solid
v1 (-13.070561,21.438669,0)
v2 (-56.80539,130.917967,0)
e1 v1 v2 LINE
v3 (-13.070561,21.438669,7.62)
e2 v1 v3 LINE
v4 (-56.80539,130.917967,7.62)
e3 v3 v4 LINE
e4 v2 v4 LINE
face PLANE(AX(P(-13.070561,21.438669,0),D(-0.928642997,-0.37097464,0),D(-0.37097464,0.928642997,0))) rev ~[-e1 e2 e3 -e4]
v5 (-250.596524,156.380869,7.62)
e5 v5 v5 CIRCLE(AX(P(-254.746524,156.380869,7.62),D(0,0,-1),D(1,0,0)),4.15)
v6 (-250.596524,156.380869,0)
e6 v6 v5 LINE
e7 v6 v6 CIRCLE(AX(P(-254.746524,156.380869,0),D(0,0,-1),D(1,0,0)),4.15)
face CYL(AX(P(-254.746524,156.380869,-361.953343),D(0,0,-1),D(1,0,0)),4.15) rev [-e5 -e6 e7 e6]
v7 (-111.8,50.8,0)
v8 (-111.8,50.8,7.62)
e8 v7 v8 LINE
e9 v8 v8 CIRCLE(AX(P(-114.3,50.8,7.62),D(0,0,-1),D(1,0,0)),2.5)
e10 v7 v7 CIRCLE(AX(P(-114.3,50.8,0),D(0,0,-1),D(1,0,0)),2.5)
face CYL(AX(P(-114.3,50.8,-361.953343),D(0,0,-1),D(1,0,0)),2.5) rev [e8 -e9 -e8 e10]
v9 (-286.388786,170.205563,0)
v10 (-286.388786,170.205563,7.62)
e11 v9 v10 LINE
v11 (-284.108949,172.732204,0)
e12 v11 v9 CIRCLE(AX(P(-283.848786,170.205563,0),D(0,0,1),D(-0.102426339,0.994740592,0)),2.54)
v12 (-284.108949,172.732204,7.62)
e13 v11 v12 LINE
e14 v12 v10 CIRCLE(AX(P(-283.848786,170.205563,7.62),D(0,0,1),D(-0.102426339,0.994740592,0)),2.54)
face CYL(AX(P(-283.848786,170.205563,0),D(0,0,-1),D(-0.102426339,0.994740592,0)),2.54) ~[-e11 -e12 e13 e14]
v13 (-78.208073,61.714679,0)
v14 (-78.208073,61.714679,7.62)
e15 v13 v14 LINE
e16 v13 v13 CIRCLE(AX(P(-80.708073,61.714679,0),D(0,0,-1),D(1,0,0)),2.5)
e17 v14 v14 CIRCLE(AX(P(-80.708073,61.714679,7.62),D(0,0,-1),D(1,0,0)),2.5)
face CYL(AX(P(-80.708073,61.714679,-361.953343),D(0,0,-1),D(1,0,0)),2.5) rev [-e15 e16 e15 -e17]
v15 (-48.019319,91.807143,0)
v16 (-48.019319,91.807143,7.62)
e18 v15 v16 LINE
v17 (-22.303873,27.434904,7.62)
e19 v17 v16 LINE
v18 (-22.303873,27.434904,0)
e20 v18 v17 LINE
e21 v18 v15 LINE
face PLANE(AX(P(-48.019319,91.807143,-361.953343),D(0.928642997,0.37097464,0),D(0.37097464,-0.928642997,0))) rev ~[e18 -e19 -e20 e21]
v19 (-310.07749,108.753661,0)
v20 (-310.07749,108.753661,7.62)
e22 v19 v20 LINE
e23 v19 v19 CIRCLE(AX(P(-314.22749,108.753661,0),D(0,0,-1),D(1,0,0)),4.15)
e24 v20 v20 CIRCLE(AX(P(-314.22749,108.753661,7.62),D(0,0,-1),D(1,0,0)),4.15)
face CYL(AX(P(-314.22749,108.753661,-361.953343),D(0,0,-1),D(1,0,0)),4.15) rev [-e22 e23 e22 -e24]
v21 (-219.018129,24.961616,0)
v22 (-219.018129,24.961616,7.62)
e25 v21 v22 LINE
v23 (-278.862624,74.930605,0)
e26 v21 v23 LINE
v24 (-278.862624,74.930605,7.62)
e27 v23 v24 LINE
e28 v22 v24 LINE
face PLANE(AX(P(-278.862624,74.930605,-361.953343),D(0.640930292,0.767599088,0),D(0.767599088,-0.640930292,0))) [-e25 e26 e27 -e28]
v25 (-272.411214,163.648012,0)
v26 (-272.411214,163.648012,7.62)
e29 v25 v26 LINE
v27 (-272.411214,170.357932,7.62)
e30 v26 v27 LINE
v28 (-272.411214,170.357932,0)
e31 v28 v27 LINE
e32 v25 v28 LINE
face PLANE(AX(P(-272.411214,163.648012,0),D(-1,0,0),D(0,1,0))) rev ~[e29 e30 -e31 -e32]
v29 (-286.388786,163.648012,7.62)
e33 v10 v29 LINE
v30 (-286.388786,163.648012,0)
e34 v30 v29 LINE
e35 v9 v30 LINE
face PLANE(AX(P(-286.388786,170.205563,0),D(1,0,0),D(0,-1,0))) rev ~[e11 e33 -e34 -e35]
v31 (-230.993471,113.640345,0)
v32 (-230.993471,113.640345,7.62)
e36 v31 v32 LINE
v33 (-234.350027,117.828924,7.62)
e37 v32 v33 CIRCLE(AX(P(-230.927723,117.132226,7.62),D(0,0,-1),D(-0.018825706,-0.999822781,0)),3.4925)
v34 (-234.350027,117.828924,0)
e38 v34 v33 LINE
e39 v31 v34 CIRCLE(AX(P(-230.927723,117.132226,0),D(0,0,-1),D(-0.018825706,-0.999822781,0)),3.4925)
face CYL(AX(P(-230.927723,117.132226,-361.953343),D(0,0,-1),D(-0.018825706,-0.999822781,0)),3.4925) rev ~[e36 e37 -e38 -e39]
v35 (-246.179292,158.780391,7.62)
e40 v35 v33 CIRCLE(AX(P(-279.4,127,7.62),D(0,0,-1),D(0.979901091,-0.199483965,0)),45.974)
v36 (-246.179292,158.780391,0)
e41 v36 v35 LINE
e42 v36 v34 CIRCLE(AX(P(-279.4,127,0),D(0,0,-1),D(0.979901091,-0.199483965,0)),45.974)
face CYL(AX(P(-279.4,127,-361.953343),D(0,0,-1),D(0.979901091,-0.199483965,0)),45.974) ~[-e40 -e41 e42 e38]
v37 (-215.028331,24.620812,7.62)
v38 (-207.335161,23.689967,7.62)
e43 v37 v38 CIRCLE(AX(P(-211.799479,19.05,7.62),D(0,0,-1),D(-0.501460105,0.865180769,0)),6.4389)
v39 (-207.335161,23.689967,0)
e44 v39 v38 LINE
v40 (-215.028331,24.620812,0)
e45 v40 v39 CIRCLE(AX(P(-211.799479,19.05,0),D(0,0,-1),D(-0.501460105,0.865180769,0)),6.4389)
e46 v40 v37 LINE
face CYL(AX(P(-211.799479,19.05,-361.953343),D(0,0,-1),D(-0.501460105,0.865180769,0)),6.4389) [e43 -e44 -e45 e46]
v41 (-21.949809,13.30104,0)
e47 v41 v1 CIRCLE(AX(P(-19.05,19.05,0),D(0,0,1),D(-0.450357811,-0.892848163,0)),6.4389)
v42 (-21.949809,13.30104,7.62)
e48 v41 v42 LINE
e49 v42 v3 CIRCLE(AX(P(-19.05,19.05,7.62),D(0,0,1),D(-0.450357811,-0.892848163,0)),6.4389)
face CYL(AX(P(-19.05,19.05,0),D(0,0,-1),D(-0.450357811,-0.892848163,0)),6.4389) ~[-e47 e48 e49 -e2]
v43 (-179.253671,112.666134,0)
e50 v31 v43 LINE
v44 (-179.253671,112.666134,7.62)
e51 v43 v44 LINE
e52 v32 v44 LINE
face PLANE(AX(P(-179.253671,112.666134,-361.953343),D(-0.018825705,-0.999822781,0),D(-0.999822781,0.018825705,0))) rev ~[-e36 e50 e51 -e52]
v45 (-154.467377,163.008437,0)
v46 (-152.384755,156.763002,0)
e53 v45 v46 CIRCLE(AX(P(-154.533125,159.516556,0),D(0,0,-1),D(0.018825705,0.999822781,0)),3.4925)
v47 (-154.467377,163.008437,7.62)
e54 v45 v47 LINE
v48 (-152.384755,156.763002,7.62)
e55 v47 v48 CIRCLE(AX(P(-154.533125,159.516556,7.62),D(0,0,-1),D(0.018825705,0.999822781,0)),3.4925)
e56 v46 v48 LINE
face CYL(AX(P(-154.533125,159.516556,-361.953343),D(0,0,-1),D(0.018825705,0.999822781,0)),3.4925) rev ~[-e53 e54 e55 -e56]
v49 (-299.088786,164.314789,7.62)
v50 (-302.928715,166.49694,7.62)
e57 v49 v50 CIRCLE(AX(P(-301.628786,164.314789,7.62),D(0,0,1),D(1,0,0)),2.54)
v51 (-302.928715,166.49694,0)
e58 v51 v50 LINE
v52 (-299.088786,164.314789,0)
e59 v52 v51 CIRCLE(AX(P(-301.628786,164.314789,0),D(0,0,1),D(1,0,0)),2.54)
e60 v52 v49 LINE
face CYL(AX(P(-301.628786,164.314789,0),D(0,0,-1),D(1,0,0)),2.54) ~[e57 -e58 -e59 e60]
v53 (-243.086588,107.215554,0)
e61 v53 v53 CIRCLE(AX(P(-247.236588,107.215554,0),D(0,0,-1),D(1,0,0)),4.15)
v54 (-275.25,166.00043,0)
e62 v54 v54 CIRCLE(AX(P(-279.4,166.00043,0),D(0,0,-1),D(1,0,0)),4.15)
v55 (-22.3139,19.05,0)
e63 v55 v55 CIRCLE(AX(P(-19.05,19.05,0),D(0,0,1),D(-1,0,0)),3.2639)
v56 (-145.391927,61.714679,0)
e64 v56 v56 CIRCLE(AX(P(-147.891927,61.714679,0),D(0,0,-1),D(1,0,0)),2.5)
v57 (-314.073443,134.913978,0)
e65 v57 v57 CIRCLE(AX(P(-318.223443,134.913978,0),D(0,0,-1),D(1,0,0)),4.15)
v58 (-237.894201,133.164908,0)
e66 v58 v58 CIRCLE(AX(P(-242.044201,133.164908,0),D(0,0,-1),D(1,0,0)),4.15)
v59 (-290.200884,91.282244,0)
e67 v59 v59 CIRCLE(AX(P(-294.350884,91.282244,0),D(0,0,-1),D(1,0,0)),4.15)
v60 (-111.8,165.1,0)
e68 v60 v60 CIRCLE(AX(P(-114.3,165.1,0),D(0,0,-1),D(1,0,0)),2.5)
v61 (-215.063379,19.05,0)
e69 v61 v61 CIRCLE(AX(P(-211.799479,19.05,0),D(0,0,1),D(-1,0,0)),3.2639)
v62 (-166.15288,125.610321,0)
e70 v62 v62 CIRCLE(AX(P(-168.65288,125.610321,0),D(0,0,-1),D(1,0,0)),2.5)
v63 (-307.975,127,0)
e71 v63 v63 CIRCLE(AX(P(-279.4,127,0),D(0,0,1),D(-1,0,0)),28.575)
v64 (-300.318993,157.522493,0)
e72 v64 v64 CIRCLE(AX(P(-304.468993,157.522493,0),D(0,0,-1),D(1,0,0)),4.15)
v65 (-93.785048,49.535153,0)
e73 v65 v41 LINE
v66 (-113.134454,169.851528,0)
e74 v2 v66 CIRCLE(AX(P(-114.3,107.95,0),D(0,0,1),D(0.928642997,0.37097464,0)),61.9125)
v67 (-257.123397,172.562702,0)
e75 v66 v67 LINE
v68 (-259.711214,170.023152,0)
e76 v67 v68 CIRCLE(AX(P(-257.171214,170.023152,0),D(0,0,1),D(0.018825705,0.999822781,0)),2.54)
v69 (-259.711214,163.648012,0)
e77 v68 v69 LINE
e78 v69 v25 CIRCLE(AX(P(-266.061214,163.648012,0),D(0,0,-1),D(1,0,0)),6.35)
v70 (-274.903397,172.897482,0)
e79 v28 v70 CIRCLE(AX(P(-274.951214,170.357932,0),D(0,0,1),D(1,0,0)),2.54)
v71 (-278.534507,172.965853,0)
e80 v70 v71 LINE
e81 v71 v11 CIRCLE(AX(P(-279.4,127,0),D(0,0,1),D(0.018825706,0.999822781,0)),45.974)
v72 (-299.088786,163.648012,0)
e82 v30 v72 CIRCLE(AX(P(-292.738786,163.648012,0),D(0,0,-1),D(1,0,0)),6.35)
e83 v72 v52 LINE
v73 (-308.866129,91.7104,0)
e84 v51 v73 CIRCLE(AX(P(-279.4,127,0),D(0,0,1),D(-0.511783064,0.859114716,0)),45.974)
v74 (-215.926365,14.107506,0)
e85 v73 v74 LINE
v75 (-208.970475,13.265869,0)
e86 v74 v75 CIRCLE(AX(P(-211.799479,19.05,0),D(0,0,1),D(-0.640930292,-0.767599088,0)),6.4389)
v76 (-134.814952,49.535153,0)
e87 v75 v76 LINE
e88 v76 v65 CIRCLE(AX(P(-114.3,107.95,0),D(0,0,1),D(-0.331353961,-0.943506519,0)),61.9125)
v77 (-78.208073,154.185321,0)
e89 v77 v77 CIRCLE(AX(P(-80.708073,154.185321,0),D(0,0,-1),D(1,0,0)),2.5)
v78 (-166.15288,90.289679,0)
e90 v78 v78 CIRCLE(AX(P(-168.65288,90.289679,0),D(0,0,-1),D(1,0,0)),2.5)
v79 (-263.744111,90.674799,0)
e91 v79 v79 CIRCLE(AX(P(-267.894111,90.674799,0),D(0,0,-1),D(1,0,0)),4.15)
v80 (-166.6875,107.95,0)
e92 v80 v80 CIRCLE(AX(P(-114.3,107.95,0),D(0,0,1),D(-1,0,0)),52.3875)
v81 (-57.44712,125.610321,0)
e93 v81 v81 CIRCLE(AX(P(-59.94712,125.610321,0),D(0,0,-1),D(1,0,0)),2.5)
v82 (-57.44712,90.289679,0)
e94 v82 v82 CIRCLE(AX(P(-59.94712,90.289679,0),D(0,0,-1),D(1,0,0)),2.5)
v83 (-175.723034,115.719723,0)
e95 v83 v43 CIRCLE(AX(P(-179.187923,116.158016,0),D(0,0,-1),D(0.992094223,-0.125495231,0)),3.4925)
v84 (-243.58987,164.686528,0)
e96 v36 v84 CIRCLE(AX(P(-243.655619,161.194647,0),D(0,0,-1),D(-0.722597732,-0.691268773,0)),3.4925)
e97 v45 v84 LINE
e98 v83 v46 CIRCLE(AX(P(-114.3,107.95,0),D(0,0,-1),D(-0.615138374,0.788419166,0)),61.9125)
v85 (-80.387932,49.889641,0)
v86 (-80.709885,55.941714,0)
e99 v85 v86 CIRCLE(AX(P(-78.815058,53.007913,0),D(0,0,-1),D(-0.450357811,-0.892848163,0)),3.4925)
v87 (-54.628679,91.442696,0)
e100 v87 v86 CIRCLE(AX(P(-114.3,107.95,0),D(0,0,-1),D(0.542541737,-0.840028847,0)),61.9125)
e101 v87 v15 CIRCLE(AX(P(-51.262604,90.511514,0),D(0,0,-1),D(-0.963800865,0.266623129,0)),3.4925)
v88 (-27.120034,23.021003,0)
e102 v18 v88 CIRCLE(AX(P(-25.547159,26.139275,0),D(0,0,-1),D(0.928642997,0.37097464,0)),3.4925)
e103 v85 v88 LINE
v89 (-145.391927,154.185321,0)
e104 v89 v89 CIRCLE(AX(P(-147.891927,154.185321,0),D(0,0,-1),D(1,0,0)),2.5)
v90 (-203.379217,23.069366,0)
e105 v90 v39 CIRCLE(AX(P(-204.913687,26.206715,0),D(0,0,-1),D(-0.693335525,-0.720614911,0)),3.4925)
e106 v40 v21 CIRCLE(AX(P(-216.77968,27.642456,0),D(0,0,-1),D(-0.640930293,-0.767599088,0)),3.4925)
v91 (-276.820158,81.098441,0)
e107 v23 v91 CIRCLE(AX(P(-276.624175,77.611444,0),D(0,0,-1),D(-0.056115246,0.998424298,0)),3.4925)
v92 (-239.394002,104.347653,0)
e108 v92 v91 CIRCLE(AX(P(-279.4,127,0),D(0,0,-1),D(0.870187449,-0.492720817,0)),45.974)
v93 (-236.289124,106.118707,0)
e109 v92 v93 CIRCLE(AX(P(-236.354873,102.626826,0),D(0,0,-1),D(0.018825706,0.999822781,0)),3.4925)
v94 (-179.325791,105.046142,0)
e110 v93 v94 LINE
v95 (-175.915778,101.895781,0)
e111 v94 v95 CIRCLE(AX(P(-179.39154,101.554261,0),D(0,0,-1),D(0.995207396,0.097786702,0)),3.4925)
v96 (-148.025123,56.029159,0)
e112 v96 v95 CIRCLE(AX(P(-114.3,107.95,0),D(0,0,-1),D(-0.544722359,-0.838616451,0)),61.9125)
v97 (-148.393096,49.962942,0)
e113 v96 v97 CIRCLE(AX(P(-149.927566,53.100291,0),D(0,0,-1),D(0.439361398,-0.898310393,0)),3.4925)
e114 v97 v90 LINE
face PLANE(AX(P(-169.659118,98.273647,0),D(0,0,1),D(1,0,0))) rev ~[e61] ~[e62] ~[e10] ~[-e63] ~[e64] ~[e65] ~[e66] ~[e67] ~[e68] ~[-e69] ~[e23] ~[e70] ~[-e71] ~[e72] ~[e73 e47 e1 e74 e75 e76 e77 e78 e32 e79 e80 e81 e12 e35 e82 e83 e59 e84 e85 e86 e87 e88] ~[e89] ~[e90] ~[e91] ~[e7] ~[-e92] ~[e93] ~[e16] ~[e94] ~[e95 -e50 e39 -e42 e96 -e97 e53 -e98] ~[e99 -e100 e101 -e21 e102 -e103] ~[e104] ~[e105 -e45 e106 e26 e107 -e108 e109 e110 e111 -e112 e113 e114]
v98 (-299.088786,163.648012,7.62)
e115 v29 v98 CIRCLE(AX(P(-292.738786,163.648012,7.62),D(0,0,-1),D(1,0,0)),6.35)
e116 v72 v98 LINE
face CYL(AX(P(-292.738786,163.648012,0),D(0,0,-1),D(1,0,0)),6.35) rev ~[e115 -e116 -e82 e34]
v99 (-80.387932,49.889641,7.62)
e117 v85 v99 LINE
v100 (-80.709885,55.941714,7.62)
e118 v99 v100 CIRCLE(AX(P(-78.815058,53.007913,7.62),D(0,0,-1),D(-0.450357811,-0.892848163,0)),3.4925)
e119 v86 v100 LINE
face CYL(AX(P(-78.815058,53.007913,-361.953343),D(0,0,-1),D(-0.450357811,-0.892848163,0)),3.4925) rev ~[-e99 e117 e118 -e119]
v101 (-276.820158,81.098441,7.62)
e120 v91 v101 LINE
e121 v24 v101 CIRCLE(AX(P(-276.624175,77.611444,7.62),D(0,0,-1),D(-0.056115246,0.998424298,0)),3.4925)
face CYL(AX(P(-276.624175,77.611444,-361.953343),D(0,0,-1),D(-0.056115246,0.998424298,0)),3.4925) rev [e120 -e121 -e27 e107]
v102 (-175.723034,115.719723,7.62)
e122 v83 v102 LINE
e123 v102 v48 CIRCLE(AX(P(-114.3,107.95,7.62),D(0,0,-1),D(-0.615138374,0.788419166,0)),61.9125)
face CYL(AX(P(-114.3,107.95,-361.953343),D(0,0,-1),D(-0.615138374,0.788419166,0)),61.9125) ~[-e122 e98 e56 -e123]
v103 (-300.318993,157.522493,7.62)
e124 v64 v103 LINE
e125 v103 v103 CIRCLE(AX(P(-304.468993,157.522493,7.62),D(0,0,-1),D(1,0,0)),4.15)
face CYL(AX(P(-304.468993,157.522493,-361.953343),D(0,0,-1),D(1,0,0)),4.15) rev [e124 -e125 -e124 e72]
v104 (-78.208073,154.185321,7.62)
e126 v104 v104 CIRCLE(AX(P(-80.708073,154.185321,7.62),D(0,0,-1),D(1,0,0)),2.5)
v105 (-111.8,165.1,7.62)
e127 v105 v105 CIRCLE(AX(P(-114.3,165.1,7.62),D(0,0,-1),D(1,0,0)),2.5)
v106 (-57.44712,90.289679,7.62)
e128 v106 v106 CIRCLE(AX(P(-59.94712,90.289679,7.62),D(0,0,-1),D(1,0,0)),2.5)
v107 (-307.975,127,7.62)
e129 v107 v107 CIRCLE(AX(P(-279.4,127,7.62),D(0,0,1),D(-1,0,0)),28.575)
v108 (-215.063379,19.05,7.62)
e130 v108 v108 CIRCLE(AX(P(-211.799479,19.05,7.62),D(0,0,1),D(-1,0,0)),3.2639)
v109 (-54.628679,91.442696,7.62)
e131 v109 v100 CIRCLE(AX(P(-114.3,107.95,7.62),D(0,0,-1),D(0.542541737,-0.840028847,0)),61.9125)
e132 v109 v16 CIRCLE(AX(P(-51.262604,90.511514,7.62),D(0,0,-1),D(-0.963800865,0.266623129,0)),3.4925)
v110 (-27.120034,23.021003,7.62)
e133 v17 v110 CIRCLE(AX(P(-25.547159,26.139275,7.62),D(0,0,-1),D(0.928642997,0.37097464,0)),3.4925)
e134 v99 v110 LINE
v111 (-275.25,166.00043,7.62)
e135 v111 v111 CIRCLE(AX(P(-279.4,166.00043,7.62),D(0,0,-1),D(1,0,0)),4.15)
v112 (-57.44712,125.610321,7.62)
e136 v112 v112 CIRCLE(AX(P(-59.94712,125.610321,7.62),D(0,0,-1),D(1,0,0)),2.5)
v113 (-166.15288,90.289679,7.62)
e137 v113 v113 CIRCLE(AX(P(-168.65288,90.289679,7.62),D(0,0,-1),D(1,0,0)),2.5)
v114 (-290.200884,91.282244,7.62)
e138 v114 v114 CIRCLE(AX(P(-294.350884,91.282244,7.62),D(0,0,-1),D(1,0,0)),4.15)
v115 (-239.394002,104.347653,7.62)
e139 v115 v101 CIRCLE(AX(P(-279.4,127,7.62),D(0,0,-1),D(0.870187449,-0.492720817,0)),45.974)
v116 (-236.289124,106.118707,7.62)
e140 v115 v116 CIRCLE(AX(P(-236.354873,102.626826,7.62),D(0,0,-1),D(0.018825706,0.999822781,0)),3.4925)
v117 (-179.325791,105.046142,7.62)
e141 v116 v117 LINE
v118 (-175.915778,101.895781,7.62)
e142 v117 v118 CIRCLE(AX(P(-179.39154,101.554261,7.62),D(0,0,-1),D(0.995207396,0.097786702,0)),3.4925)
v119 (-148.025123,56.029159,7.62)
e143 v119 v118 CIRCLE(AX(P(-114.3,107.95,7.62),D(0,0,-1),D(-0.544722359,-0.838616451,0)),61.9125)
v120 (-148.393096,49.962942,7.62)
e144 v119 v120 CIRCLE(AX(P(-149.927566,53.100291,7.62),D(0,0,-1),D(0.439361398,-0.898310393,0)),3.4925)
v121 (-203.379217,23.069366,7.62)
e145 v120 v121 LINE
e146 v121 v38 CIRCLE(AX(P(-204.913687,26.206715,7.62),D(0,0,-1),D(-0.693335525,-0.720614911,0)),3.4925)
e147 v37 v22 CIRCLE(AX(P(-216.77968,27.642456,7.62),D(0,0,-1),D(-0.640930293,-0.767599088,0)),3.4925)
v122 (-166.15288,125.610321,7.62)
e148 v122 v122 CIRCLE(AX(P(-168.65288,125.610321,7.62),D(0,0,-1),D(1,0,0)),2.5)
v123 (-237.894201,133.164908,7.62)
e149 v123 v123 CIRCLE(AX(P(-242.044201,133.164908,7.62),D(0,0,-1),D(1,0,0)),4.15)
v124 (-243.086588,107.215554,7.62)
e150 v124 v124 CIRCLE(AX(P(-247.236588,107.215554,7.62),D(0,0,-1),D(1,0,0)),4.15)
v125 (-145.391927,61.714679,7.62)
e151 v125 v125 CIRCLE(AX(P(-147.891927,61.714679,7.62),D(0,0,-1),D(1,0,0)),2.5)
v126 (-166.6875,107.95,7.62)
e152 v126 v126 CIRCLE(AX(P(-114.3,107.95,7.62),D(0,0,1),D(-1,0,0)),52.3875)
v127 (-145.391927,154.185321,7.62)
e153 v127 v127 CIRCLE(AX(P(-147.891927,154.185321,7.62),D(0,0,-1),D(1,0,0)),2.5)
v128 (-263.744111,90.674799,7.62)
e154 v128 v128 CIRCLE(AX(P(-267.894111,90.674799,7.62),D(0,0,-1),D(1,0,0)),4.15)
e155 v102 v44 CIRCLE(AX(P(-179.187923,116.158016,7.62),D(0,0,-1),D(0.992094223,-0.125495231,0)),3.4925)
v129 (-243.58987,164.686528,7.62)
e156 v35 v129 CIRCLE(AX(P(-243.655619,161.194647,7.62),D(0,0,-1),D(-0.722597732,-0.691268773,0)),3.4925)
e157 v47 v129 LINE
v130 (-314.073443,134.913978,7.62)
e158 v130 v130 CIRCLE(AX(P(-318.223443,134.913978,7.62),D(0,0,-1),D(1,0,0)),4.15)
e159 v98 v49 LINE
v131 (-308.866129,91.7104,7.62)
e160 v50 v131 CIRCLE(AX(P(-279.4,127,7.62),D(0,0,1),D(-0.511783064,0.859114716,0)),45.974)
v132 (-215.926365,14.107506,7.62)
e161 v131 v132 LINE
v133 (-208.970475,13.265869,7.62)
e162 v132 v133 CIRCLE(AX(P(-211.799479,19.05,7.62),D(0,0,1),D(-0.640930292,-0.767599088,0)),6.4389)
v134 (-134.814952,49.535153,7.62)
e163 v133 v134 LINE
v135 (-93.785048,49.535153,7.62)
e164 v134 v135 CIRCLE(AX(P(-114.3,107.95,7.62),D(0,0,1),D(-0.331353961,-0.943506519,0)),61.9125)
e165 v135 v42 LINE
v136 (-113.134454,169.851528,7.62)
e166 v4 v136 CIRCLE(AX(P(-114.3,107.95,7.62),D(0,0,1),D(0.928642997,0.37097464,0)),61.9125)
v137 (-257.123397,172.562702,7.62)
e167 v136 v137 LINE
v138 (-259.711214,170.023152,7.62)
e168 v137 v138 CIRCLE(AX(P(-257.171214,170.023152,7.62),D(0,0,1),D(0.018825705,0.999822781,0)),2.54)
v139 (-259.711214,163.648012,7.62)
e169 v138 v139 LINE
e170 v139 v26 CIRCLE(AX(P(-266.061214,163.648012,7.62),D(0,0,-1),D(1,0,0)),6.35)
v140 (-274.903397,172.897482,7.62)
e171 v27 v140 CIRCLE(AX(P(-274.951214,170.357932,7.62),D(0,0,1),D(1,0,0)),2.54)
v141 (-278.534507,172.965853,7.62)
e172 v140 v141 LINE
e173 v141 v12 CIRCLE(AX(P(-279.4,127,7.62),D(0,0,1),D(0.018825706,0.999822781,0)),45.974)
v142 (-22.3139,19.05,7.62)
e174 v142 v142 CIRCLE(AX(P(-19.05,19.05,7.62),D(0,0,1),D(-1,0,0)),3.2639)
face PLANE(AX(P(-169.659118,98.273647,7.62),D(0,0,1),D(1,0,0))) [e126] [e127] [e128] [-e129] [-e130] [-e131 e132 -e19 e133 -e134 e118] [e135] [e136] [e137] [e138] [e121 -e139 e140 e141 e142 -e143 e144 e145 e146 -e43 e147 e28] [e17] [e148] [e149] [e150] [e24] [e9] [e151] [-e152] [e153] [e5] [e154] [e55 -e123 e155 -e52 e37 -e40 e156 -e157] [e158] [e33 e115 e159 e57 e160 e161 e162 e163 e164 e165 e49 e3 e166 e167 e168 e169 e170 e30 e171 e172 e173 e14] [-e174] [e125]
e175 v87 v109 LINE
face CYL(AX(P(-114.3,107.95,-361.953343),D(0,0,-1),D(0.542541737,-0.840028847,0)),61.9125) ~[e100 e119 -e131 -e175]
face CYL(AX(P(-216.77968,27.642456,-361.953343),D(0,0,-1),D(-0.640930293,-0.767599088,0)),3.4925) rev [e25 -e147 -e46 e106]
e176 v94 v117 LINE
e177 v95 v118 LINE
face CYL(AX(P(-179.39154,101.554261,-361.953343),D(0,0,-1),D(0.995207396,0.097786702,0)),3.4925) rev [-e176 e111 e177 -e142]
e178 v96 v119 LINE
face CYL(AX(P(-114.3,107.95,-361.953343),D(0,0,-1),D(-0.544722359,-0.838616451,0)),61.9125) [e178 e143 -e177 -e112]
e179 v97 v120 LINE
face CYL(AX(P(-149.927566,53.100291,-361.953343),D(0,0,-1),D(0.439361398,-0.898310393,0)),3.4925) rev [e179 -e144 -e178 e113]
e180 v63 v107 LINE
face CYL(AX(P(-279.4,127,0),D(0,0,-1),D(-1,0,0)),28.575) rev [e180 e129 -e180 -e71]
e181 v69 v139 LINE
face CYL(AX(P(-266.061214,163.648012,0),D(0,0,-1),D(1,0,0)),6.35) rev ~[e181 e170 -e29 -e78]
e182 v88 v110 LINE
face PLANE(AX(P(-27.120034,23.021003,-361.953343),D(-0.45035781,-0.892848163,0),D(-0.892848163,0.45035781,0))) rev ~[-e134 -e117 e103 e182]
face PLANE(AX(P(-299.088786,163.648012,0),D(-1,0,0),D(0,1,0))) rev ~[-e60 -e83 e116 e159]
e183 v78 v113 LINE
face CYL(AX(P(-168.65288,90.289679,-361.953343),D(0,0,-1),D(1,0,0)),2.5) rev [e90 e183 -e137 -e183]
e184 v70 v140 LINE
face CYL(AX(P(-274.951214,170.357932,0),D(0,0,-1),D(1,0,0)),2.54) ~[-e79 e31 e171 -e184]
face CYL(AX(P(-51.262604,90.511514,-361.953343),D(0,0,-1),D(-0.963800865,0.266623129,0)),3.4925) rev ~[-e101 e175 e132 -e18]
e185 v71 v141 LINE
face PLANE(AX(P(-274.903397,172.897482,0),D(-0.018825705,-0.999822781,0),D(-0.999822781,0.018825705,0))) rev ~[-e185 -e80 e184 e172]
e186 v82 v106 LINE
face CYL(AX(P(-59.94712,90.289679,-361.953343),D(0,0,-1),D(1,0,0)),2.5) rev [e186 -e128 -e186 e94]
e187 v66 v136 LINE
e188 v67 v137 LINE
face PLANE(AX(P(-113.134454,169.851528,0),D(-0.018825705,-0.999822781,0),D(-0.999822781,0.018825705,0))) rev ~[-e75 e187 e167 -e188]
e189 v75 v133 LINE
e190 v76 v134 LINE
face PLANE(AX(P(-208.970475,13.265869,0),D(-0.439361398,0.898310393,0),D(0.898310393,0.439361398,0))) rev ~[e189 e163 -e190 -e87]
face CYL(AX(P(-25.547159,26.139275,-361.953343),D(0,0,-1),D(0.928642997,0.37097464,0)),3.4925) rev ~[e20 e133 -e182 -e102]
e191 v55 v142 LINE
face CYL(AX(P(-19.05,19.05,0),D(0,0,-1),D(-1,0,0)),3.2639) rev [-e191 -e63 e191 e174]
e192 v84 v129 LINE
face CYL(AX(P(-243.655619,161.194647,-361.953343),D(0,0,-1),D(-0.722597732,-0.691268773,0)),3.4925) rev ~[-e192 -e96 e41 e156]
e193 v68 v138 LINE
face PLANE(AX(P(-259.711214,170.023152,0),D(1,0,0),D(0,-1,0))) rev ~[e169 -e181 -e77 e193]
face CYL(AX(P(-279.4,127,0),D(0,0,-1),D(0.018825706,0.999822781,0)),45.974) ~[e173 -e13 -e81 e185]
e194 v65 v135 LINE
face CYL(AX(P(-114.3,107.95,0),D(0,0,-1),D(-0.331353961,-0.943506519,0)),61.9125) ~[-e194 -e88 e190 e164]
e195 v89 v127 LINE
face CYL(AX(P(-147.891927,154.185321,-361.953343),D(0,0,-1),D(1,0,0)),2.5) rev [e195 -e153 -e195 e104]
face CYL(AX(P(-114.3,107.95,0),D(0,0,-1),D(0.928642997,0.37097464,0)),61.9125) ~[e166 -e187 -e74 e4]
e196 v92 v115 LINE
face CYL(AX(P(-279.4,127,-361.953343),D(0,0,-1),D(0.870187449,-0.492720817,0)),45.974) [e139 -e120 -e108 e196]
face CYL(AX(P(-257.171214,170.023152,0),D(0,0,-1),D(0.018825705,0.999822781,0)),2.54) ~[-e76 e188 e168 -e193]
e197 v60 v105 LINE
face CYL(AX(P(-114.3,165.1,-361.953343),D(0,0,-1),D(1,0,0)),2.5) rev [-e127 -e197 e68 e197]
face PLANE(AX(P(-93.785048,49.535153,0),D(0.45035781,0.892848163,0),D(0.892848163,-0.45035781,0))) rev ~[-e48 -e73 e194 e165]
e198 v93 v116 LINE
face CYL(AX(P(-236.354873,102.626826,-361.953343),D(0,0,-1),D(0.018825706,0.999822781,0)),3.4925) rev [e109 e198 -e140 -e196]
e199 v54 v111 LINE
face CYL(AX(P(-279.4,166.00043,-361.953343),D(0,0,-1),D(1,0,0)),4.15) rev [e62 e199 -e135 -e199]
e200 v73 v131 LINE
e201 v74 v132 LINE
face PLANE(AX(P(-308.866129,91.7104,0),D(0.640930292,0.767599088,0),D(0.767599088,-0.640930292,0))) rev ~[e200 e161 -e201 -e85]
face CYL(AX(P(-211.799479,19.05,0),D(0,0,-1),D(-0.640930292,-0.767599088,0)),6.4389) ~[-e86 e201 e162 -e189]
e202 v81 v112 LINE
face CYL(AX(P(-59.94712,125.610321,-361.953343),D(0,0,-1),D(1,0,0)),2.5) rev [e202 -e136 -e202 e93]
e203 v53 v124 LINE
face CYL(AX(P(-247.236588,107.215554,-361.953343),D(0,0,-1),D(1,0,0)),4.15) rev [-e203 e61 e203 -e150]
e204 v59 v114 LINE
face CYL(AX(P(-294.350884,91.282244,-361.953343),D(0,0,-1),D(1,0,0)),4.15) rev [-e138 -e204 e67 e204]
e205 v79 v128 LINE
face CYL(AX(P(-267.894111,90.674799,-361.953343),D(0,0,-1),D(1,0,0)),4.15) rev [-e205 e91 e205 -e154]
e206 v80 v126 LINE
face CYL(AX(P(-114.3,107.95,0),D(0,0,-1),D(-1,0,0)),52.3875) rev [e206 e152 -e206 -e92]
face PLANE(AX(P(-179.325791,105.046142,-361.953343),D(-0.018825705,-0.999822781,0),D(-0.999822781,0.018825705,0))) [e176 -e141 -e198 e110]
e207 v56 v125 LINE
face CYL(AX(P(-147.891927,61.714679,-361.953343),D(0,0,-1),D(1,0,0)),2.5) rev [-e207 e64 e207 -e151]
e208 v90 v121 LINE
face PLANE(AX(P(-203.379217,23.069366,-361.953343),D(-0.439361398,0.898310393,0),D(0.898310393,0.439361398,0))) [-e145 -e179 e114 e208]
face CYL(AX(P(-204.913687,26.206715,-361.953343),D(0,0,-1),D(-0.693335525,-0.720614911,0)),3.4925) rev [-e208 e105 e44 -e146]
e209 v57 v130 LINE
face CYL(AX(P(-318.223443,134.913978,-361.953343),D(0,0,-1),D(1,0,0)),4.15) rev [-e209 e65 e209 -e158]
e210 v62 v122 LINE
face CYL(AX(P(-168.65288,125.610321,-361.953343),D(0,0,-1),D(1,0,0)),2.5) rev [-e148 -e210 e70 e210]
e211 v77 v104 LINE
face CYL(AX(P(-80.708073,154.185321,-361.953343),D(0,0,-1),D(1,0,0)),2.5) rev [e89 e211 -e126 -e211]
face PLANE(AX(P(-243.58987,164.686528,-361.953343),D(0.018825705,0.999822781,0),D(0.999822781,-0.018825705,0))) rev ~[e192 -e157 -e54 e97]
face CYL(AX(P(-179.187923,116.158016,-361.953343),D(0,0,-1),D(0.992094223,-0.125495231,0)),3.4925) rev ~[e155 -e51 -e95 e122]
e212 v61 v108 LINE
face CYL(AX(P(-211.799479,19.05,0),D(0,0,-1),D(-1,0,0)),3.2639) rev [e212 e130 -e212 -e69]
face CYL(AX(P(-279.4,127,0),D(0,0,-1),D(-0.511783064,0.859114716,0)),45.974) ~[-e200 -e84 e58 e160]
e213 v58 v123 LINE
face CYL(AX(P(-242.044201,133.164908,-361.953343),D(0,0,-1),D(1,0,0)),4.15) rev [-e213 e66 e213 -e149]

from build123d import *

# Parameters (mm, degrees)
SKETCH2_R               = 28.575
SKETCH2_R_2             = 3.2639
SKETCH2_R_3             = 52.3875
BOSS_EXTRUDE1_DEPTH     = 7.62
CUT_EXTRUDE1_DEPTH      = 369.573342704
CUT_EXTRUDE1_DEPTH_BACK = 369.573342704
SKETCH3_R               = 4.15
SKETCH3_R_2             = 2.5
CUT_EXTRUDE2_DEPTH      = 369.573342704
CUT_EXTRUDE2_DEPTH_BACK = 369.573342704


with BuildPart() as part:
    # Sketch2 → Boss-Extrude1 (new body)
    with BuildSketch(Plane.XY):
        with BuildLine():
            Line((-308.866129262, 91.710399516), (-215.926365234, 14.107506231))
            ThreePointArc((-215.926365234, 14.107506231), (-212.572921228, 12.657721799), (-208.970475069, 13.265869211))
            Line((-208.970475069, 13.265869211), (-134.814952137, 49.535152614))
            ThreePointArc((-134.814952137, 49.535152614), (-114.3, 46.0375), (-93.785047863, 49.535152614))
            Line((-93.785047863, 49.535152614), (-21.949808906, 13.301039962))
            ThreePointArc((-21.949808906, 13.301039962), (-14.699565425, 14.303090245), (-13.070560605, 21.438668609))
            Line((-13.070560605, 21.438668609), (-56.805390428, 130.917967399))
            ThreePointArc((-56.805390428, 130.917967399), (-79.09759936, 158.880822155), (-113.13445351, 169.85152791))
            Line((-113.13445351, 169.85152791), (-257.123397092, 172.562701825))
            ThreePointArc((-257.123397092, 172.562701825), (-258.950279318, 171.836030325), (-259.711214384, 170.023151962))
            Line((-259.711214384, 170.023151962), (-259.711214384, 163.648011794))
            ThreePointArc((-259.711214384, 163.648011794), (-266.061214384, 157.298011794), (-272.411214384, 163.648011794))
            Line((-272.411214384, 163.648011794), (-272.411214384, 170.357932335))
            ThreePointArc((-272.411214384, 170.357932335), (-273.138336021, 172.136997269), (-274.903397092, 172.897482198))
            Line((-274.903397092, 172.897482198), (-278.534507017, 172.96585252))
            ThreePointArc((-278.534507017, 172.96585252), (-281.325275441, 172.933669465), (-284.108948518, 172.732203969))
            ThreePointArc((-284.108948518, 172.732203969), (-285.734576401, 171.907148337), (-286.388785616, 170.205562866))
            Line((-286.388785616, 170.205562866), (-286.388785616, 163.648011794))
            ThreePointArc((-286.388785616, 163.648011794), (-292.738785616, 157.298011794), (-299.088785616, 163.648011794))
            Line((-299.088785616, 163.648011794), (-299.088785616, 164.31478857))
            ThreePointArc((-299.088785616, 164.31478857), (-300.373839326, 166.523115948), (-302.928714599, 166.496939949))
            ThreePointArc((-302.928714599, 166.496939949), (-325.229794091, 130.638495508), (-308.866129262, 91.710399516))
        make_face()
        with Locations(Location((-279.4, 127, 0), (0, 0, 180))):
            Circle(SKETCH2_R, mode=Mode.SUBTRACT)
        with Locations(Location((-19.05, 19.05, 0), (0, 0, 180))):
            Circle(SKETCH2_R_2, mode=Mode.SUBTRACT)
        with Locations(Location((-211.799479175, 19.05, 0), (0, 0, 180))):
            Circle(SKETCH2_R_2, mode=Mode.SUBTRACT)
        with Locations(Location((-114.3, 107.95, 0), (0, 0, 180))):
            Circle(SKETCH2_R_3, mode=Mode.SUBTRACT)
    extrude(amount=BOSS_EXTRUDE1_DEPTH)

    # Sketch3 → Cut-Extrude1 (cut, two sides: drawn at the far end of the back side and taken through both)
    with BuildSketch(Plane.XY.offset(7.62).offset(-CUT_EXTRUDE1_DEPTH_BACK)):
        with Locations((-279.4, 166.00043)):
            Circle(SKETCH3_R)
        with Locations((-254.746524018, 156.380868571)):
            Circle(SKETCH3_R)
        with Locations((-242.044200635, 133.164908097)):
            Circle(SKETCH3_R)
        with Locations((-247.236588134, 107.215554499)):
            Circle(SKETCH3_R)
        with Locations((-267.894110695, 90.674798722)):
            Circle(SKETCH3_R)
        with Locations((-294.35088393, 91.282244222)):
            Circle(SKETCH3_R)
        with Locations((-314.227489609, 108.753660501)):
            Circle(SKETCH3_R)
        with Locations((-318.223443029, 134.913977707)):
            Circle(SKETCH3_R)
        with Locations((-304.468993176, 157.522492681)):
            Circle(SKETCH3_R)
        with Locations((-114.3, 165.1)):
            Circle(SKETCH3_R_2)
        with Locations((-80.708072831, 154.185321229)):
            Circle(SKETCH3_R_2)
        with Locations((-59.947120094, 125.610321229)):
            Circle(SKETCH3_R_2)
        with Locations((-59.947120094, 90.289678771)):
            Circle(SKETCH3_R_2)
        with Locations((-80.708072831, 61.714678771)):
            Circle(SKETCH3_R_2)
        with Locations((-114.3, 50.8)):
            Circle(SKETCH3_R_2)
        with Locations((-147.891927169, 61.714678771)):
            Circle(SKETCH3_R_2)
        with Locations((-168.652879906, 90.289678771)):
            Circle(SKETCH3_R_2)
        with Locations((-168.652879906, 125.610321229)):
            Circle(SKETCH3_R_2)
        with Locations((-147.891927169, 154.185321229)):
            Circle(SKETCH3_R_2)
    extrude(amount=CUT_EXTRUDE1_DEPTH + CUT_EXTRUDE1_DEPTH_BACK, mode=Mode.SUBTRACT)

    # Sketch4 → Cut-Extrude2 (cut, two sides: drawn at the far end of the back side and taken through both)
    with BuildSketch(Plane.XY.offset(7.62).offset(-CUT_EXTRUDE2_DEPTH_BACK)):
        with BuildLine():
            Line((-278.862624236, 74.930604639), (-219.018129111, 24.961616472))
            ThreePointArc((-219.018129111, 24.961616472), (-217.07692299, 24.16262829), (-215.028330647, 24.620812453))
            ThreePointArc((-215.028330647, 24.620812453), (-211.026037121, 25.442278201), (-207.335161059, 23.689967346))
            ThreePointArc((-207.335161059, 23.689967346), (-205.454963796, 22.756414152), (-203.379217054, 23.069365873))
            Line((-203.379217054, 23.069365873), (-148.393096208, 49.962941986))
            ThreePointArc((-148.393096208, 49.962941986), (-146.441473652, 52.888826728), (-148.025123052, 56.029158988))
            ThreePointArc((-148.025123052, 56.029158988), (-167.199986736, 75.782484405), (-175.915777896, 101.895780766))
            ThreePointArc((-175.915777896, 101.895780766), (-177.021567584, 104.119565425), (-179.32579095, 105.046141768))
            Line((-179.32579095, 105.046141768), (-236.289123771, 106.118706774))
            ThreePointArc((-236.289123771, 106.118706774), (-238.085307811, 105.660495116), (-239.394002214, 104.347653165))
            ThreePointArc((-239.394002214, 104.347653165), (-255.140570758, 87.947615069), (-276.820157686, 81.098441316))
            ThreePointArc((-276.820157686, 81.098441316), (-279.939618833, 78.709346862), (-278.862624236, 74.930604639))
        make_face()
        with BuildLine():
            Line((-48.019318761, 91.807143198), (-22.303873454, 27.434904147))
            ThreePointArc((-22.303873454, 27.434904147), (-23.187455951, 23.564521405), (-27.120033775, 23.021003007))
            Line((-27.120033775, 23.021003007), (-80.387932313, 49.889641079))
            ThreePointArc((-80.387932313, 49.889641079), (-82.302626367, 52.822384958), (-80.709884678, 55.941714036))
            ThreePointArc((-80.709884678, 55.941714036), (-64.405072396, 71.294115674), (-54.62867895, 91.442695545))
            ThreePointArc((-54.62867895, 91.442695545), (-51.454892751, 93.998716793), (-48.019318761, 91.807143198))
        make_face()
        with BuildLine():
            Line((-243.589870481, 164.686527829), (-154.467376545, 163.008436618))
            ThreePointArc((-154.467376545, 163.008436618), (-151.219977886, 160.621367905), (-152.384754551, 156.763001619))
            ThreePointArc((-152.384754551, 156.763001619), (-168.119955828, 138.553431359), (-175.723033577, 115.719723447))
            ThreePointArc((-175.723033577, 115.719723447), (-176.903269485, 113.516440978), (-179.253671427, 112.666134477))
            Line((-179.253671427, 112.666134477), (-230.993471474, 113.640345363))
            ThreePointArc((-230.993471474, 113.640345363), (-233.653099209, 114.948221132), (-234.350027257, 117.828924174))
            ThreePointArc((-234.350027257, 117.828924174), (-235.231792854, 139.758454197), (-246.179291838, 158.780390577))
            ThreePointArc((-246.179291838, 158.780390577), (-246.854206706, 162.596999998), (-243.589870481, 164.686527829))
        make_face()
    extrude(amount=CUT_EXTRUDE2_DEPTH + CUT_EXTRUDE2_DEPTH_BACK, mode=Mode.SUBTRACT)


solid = part.part
